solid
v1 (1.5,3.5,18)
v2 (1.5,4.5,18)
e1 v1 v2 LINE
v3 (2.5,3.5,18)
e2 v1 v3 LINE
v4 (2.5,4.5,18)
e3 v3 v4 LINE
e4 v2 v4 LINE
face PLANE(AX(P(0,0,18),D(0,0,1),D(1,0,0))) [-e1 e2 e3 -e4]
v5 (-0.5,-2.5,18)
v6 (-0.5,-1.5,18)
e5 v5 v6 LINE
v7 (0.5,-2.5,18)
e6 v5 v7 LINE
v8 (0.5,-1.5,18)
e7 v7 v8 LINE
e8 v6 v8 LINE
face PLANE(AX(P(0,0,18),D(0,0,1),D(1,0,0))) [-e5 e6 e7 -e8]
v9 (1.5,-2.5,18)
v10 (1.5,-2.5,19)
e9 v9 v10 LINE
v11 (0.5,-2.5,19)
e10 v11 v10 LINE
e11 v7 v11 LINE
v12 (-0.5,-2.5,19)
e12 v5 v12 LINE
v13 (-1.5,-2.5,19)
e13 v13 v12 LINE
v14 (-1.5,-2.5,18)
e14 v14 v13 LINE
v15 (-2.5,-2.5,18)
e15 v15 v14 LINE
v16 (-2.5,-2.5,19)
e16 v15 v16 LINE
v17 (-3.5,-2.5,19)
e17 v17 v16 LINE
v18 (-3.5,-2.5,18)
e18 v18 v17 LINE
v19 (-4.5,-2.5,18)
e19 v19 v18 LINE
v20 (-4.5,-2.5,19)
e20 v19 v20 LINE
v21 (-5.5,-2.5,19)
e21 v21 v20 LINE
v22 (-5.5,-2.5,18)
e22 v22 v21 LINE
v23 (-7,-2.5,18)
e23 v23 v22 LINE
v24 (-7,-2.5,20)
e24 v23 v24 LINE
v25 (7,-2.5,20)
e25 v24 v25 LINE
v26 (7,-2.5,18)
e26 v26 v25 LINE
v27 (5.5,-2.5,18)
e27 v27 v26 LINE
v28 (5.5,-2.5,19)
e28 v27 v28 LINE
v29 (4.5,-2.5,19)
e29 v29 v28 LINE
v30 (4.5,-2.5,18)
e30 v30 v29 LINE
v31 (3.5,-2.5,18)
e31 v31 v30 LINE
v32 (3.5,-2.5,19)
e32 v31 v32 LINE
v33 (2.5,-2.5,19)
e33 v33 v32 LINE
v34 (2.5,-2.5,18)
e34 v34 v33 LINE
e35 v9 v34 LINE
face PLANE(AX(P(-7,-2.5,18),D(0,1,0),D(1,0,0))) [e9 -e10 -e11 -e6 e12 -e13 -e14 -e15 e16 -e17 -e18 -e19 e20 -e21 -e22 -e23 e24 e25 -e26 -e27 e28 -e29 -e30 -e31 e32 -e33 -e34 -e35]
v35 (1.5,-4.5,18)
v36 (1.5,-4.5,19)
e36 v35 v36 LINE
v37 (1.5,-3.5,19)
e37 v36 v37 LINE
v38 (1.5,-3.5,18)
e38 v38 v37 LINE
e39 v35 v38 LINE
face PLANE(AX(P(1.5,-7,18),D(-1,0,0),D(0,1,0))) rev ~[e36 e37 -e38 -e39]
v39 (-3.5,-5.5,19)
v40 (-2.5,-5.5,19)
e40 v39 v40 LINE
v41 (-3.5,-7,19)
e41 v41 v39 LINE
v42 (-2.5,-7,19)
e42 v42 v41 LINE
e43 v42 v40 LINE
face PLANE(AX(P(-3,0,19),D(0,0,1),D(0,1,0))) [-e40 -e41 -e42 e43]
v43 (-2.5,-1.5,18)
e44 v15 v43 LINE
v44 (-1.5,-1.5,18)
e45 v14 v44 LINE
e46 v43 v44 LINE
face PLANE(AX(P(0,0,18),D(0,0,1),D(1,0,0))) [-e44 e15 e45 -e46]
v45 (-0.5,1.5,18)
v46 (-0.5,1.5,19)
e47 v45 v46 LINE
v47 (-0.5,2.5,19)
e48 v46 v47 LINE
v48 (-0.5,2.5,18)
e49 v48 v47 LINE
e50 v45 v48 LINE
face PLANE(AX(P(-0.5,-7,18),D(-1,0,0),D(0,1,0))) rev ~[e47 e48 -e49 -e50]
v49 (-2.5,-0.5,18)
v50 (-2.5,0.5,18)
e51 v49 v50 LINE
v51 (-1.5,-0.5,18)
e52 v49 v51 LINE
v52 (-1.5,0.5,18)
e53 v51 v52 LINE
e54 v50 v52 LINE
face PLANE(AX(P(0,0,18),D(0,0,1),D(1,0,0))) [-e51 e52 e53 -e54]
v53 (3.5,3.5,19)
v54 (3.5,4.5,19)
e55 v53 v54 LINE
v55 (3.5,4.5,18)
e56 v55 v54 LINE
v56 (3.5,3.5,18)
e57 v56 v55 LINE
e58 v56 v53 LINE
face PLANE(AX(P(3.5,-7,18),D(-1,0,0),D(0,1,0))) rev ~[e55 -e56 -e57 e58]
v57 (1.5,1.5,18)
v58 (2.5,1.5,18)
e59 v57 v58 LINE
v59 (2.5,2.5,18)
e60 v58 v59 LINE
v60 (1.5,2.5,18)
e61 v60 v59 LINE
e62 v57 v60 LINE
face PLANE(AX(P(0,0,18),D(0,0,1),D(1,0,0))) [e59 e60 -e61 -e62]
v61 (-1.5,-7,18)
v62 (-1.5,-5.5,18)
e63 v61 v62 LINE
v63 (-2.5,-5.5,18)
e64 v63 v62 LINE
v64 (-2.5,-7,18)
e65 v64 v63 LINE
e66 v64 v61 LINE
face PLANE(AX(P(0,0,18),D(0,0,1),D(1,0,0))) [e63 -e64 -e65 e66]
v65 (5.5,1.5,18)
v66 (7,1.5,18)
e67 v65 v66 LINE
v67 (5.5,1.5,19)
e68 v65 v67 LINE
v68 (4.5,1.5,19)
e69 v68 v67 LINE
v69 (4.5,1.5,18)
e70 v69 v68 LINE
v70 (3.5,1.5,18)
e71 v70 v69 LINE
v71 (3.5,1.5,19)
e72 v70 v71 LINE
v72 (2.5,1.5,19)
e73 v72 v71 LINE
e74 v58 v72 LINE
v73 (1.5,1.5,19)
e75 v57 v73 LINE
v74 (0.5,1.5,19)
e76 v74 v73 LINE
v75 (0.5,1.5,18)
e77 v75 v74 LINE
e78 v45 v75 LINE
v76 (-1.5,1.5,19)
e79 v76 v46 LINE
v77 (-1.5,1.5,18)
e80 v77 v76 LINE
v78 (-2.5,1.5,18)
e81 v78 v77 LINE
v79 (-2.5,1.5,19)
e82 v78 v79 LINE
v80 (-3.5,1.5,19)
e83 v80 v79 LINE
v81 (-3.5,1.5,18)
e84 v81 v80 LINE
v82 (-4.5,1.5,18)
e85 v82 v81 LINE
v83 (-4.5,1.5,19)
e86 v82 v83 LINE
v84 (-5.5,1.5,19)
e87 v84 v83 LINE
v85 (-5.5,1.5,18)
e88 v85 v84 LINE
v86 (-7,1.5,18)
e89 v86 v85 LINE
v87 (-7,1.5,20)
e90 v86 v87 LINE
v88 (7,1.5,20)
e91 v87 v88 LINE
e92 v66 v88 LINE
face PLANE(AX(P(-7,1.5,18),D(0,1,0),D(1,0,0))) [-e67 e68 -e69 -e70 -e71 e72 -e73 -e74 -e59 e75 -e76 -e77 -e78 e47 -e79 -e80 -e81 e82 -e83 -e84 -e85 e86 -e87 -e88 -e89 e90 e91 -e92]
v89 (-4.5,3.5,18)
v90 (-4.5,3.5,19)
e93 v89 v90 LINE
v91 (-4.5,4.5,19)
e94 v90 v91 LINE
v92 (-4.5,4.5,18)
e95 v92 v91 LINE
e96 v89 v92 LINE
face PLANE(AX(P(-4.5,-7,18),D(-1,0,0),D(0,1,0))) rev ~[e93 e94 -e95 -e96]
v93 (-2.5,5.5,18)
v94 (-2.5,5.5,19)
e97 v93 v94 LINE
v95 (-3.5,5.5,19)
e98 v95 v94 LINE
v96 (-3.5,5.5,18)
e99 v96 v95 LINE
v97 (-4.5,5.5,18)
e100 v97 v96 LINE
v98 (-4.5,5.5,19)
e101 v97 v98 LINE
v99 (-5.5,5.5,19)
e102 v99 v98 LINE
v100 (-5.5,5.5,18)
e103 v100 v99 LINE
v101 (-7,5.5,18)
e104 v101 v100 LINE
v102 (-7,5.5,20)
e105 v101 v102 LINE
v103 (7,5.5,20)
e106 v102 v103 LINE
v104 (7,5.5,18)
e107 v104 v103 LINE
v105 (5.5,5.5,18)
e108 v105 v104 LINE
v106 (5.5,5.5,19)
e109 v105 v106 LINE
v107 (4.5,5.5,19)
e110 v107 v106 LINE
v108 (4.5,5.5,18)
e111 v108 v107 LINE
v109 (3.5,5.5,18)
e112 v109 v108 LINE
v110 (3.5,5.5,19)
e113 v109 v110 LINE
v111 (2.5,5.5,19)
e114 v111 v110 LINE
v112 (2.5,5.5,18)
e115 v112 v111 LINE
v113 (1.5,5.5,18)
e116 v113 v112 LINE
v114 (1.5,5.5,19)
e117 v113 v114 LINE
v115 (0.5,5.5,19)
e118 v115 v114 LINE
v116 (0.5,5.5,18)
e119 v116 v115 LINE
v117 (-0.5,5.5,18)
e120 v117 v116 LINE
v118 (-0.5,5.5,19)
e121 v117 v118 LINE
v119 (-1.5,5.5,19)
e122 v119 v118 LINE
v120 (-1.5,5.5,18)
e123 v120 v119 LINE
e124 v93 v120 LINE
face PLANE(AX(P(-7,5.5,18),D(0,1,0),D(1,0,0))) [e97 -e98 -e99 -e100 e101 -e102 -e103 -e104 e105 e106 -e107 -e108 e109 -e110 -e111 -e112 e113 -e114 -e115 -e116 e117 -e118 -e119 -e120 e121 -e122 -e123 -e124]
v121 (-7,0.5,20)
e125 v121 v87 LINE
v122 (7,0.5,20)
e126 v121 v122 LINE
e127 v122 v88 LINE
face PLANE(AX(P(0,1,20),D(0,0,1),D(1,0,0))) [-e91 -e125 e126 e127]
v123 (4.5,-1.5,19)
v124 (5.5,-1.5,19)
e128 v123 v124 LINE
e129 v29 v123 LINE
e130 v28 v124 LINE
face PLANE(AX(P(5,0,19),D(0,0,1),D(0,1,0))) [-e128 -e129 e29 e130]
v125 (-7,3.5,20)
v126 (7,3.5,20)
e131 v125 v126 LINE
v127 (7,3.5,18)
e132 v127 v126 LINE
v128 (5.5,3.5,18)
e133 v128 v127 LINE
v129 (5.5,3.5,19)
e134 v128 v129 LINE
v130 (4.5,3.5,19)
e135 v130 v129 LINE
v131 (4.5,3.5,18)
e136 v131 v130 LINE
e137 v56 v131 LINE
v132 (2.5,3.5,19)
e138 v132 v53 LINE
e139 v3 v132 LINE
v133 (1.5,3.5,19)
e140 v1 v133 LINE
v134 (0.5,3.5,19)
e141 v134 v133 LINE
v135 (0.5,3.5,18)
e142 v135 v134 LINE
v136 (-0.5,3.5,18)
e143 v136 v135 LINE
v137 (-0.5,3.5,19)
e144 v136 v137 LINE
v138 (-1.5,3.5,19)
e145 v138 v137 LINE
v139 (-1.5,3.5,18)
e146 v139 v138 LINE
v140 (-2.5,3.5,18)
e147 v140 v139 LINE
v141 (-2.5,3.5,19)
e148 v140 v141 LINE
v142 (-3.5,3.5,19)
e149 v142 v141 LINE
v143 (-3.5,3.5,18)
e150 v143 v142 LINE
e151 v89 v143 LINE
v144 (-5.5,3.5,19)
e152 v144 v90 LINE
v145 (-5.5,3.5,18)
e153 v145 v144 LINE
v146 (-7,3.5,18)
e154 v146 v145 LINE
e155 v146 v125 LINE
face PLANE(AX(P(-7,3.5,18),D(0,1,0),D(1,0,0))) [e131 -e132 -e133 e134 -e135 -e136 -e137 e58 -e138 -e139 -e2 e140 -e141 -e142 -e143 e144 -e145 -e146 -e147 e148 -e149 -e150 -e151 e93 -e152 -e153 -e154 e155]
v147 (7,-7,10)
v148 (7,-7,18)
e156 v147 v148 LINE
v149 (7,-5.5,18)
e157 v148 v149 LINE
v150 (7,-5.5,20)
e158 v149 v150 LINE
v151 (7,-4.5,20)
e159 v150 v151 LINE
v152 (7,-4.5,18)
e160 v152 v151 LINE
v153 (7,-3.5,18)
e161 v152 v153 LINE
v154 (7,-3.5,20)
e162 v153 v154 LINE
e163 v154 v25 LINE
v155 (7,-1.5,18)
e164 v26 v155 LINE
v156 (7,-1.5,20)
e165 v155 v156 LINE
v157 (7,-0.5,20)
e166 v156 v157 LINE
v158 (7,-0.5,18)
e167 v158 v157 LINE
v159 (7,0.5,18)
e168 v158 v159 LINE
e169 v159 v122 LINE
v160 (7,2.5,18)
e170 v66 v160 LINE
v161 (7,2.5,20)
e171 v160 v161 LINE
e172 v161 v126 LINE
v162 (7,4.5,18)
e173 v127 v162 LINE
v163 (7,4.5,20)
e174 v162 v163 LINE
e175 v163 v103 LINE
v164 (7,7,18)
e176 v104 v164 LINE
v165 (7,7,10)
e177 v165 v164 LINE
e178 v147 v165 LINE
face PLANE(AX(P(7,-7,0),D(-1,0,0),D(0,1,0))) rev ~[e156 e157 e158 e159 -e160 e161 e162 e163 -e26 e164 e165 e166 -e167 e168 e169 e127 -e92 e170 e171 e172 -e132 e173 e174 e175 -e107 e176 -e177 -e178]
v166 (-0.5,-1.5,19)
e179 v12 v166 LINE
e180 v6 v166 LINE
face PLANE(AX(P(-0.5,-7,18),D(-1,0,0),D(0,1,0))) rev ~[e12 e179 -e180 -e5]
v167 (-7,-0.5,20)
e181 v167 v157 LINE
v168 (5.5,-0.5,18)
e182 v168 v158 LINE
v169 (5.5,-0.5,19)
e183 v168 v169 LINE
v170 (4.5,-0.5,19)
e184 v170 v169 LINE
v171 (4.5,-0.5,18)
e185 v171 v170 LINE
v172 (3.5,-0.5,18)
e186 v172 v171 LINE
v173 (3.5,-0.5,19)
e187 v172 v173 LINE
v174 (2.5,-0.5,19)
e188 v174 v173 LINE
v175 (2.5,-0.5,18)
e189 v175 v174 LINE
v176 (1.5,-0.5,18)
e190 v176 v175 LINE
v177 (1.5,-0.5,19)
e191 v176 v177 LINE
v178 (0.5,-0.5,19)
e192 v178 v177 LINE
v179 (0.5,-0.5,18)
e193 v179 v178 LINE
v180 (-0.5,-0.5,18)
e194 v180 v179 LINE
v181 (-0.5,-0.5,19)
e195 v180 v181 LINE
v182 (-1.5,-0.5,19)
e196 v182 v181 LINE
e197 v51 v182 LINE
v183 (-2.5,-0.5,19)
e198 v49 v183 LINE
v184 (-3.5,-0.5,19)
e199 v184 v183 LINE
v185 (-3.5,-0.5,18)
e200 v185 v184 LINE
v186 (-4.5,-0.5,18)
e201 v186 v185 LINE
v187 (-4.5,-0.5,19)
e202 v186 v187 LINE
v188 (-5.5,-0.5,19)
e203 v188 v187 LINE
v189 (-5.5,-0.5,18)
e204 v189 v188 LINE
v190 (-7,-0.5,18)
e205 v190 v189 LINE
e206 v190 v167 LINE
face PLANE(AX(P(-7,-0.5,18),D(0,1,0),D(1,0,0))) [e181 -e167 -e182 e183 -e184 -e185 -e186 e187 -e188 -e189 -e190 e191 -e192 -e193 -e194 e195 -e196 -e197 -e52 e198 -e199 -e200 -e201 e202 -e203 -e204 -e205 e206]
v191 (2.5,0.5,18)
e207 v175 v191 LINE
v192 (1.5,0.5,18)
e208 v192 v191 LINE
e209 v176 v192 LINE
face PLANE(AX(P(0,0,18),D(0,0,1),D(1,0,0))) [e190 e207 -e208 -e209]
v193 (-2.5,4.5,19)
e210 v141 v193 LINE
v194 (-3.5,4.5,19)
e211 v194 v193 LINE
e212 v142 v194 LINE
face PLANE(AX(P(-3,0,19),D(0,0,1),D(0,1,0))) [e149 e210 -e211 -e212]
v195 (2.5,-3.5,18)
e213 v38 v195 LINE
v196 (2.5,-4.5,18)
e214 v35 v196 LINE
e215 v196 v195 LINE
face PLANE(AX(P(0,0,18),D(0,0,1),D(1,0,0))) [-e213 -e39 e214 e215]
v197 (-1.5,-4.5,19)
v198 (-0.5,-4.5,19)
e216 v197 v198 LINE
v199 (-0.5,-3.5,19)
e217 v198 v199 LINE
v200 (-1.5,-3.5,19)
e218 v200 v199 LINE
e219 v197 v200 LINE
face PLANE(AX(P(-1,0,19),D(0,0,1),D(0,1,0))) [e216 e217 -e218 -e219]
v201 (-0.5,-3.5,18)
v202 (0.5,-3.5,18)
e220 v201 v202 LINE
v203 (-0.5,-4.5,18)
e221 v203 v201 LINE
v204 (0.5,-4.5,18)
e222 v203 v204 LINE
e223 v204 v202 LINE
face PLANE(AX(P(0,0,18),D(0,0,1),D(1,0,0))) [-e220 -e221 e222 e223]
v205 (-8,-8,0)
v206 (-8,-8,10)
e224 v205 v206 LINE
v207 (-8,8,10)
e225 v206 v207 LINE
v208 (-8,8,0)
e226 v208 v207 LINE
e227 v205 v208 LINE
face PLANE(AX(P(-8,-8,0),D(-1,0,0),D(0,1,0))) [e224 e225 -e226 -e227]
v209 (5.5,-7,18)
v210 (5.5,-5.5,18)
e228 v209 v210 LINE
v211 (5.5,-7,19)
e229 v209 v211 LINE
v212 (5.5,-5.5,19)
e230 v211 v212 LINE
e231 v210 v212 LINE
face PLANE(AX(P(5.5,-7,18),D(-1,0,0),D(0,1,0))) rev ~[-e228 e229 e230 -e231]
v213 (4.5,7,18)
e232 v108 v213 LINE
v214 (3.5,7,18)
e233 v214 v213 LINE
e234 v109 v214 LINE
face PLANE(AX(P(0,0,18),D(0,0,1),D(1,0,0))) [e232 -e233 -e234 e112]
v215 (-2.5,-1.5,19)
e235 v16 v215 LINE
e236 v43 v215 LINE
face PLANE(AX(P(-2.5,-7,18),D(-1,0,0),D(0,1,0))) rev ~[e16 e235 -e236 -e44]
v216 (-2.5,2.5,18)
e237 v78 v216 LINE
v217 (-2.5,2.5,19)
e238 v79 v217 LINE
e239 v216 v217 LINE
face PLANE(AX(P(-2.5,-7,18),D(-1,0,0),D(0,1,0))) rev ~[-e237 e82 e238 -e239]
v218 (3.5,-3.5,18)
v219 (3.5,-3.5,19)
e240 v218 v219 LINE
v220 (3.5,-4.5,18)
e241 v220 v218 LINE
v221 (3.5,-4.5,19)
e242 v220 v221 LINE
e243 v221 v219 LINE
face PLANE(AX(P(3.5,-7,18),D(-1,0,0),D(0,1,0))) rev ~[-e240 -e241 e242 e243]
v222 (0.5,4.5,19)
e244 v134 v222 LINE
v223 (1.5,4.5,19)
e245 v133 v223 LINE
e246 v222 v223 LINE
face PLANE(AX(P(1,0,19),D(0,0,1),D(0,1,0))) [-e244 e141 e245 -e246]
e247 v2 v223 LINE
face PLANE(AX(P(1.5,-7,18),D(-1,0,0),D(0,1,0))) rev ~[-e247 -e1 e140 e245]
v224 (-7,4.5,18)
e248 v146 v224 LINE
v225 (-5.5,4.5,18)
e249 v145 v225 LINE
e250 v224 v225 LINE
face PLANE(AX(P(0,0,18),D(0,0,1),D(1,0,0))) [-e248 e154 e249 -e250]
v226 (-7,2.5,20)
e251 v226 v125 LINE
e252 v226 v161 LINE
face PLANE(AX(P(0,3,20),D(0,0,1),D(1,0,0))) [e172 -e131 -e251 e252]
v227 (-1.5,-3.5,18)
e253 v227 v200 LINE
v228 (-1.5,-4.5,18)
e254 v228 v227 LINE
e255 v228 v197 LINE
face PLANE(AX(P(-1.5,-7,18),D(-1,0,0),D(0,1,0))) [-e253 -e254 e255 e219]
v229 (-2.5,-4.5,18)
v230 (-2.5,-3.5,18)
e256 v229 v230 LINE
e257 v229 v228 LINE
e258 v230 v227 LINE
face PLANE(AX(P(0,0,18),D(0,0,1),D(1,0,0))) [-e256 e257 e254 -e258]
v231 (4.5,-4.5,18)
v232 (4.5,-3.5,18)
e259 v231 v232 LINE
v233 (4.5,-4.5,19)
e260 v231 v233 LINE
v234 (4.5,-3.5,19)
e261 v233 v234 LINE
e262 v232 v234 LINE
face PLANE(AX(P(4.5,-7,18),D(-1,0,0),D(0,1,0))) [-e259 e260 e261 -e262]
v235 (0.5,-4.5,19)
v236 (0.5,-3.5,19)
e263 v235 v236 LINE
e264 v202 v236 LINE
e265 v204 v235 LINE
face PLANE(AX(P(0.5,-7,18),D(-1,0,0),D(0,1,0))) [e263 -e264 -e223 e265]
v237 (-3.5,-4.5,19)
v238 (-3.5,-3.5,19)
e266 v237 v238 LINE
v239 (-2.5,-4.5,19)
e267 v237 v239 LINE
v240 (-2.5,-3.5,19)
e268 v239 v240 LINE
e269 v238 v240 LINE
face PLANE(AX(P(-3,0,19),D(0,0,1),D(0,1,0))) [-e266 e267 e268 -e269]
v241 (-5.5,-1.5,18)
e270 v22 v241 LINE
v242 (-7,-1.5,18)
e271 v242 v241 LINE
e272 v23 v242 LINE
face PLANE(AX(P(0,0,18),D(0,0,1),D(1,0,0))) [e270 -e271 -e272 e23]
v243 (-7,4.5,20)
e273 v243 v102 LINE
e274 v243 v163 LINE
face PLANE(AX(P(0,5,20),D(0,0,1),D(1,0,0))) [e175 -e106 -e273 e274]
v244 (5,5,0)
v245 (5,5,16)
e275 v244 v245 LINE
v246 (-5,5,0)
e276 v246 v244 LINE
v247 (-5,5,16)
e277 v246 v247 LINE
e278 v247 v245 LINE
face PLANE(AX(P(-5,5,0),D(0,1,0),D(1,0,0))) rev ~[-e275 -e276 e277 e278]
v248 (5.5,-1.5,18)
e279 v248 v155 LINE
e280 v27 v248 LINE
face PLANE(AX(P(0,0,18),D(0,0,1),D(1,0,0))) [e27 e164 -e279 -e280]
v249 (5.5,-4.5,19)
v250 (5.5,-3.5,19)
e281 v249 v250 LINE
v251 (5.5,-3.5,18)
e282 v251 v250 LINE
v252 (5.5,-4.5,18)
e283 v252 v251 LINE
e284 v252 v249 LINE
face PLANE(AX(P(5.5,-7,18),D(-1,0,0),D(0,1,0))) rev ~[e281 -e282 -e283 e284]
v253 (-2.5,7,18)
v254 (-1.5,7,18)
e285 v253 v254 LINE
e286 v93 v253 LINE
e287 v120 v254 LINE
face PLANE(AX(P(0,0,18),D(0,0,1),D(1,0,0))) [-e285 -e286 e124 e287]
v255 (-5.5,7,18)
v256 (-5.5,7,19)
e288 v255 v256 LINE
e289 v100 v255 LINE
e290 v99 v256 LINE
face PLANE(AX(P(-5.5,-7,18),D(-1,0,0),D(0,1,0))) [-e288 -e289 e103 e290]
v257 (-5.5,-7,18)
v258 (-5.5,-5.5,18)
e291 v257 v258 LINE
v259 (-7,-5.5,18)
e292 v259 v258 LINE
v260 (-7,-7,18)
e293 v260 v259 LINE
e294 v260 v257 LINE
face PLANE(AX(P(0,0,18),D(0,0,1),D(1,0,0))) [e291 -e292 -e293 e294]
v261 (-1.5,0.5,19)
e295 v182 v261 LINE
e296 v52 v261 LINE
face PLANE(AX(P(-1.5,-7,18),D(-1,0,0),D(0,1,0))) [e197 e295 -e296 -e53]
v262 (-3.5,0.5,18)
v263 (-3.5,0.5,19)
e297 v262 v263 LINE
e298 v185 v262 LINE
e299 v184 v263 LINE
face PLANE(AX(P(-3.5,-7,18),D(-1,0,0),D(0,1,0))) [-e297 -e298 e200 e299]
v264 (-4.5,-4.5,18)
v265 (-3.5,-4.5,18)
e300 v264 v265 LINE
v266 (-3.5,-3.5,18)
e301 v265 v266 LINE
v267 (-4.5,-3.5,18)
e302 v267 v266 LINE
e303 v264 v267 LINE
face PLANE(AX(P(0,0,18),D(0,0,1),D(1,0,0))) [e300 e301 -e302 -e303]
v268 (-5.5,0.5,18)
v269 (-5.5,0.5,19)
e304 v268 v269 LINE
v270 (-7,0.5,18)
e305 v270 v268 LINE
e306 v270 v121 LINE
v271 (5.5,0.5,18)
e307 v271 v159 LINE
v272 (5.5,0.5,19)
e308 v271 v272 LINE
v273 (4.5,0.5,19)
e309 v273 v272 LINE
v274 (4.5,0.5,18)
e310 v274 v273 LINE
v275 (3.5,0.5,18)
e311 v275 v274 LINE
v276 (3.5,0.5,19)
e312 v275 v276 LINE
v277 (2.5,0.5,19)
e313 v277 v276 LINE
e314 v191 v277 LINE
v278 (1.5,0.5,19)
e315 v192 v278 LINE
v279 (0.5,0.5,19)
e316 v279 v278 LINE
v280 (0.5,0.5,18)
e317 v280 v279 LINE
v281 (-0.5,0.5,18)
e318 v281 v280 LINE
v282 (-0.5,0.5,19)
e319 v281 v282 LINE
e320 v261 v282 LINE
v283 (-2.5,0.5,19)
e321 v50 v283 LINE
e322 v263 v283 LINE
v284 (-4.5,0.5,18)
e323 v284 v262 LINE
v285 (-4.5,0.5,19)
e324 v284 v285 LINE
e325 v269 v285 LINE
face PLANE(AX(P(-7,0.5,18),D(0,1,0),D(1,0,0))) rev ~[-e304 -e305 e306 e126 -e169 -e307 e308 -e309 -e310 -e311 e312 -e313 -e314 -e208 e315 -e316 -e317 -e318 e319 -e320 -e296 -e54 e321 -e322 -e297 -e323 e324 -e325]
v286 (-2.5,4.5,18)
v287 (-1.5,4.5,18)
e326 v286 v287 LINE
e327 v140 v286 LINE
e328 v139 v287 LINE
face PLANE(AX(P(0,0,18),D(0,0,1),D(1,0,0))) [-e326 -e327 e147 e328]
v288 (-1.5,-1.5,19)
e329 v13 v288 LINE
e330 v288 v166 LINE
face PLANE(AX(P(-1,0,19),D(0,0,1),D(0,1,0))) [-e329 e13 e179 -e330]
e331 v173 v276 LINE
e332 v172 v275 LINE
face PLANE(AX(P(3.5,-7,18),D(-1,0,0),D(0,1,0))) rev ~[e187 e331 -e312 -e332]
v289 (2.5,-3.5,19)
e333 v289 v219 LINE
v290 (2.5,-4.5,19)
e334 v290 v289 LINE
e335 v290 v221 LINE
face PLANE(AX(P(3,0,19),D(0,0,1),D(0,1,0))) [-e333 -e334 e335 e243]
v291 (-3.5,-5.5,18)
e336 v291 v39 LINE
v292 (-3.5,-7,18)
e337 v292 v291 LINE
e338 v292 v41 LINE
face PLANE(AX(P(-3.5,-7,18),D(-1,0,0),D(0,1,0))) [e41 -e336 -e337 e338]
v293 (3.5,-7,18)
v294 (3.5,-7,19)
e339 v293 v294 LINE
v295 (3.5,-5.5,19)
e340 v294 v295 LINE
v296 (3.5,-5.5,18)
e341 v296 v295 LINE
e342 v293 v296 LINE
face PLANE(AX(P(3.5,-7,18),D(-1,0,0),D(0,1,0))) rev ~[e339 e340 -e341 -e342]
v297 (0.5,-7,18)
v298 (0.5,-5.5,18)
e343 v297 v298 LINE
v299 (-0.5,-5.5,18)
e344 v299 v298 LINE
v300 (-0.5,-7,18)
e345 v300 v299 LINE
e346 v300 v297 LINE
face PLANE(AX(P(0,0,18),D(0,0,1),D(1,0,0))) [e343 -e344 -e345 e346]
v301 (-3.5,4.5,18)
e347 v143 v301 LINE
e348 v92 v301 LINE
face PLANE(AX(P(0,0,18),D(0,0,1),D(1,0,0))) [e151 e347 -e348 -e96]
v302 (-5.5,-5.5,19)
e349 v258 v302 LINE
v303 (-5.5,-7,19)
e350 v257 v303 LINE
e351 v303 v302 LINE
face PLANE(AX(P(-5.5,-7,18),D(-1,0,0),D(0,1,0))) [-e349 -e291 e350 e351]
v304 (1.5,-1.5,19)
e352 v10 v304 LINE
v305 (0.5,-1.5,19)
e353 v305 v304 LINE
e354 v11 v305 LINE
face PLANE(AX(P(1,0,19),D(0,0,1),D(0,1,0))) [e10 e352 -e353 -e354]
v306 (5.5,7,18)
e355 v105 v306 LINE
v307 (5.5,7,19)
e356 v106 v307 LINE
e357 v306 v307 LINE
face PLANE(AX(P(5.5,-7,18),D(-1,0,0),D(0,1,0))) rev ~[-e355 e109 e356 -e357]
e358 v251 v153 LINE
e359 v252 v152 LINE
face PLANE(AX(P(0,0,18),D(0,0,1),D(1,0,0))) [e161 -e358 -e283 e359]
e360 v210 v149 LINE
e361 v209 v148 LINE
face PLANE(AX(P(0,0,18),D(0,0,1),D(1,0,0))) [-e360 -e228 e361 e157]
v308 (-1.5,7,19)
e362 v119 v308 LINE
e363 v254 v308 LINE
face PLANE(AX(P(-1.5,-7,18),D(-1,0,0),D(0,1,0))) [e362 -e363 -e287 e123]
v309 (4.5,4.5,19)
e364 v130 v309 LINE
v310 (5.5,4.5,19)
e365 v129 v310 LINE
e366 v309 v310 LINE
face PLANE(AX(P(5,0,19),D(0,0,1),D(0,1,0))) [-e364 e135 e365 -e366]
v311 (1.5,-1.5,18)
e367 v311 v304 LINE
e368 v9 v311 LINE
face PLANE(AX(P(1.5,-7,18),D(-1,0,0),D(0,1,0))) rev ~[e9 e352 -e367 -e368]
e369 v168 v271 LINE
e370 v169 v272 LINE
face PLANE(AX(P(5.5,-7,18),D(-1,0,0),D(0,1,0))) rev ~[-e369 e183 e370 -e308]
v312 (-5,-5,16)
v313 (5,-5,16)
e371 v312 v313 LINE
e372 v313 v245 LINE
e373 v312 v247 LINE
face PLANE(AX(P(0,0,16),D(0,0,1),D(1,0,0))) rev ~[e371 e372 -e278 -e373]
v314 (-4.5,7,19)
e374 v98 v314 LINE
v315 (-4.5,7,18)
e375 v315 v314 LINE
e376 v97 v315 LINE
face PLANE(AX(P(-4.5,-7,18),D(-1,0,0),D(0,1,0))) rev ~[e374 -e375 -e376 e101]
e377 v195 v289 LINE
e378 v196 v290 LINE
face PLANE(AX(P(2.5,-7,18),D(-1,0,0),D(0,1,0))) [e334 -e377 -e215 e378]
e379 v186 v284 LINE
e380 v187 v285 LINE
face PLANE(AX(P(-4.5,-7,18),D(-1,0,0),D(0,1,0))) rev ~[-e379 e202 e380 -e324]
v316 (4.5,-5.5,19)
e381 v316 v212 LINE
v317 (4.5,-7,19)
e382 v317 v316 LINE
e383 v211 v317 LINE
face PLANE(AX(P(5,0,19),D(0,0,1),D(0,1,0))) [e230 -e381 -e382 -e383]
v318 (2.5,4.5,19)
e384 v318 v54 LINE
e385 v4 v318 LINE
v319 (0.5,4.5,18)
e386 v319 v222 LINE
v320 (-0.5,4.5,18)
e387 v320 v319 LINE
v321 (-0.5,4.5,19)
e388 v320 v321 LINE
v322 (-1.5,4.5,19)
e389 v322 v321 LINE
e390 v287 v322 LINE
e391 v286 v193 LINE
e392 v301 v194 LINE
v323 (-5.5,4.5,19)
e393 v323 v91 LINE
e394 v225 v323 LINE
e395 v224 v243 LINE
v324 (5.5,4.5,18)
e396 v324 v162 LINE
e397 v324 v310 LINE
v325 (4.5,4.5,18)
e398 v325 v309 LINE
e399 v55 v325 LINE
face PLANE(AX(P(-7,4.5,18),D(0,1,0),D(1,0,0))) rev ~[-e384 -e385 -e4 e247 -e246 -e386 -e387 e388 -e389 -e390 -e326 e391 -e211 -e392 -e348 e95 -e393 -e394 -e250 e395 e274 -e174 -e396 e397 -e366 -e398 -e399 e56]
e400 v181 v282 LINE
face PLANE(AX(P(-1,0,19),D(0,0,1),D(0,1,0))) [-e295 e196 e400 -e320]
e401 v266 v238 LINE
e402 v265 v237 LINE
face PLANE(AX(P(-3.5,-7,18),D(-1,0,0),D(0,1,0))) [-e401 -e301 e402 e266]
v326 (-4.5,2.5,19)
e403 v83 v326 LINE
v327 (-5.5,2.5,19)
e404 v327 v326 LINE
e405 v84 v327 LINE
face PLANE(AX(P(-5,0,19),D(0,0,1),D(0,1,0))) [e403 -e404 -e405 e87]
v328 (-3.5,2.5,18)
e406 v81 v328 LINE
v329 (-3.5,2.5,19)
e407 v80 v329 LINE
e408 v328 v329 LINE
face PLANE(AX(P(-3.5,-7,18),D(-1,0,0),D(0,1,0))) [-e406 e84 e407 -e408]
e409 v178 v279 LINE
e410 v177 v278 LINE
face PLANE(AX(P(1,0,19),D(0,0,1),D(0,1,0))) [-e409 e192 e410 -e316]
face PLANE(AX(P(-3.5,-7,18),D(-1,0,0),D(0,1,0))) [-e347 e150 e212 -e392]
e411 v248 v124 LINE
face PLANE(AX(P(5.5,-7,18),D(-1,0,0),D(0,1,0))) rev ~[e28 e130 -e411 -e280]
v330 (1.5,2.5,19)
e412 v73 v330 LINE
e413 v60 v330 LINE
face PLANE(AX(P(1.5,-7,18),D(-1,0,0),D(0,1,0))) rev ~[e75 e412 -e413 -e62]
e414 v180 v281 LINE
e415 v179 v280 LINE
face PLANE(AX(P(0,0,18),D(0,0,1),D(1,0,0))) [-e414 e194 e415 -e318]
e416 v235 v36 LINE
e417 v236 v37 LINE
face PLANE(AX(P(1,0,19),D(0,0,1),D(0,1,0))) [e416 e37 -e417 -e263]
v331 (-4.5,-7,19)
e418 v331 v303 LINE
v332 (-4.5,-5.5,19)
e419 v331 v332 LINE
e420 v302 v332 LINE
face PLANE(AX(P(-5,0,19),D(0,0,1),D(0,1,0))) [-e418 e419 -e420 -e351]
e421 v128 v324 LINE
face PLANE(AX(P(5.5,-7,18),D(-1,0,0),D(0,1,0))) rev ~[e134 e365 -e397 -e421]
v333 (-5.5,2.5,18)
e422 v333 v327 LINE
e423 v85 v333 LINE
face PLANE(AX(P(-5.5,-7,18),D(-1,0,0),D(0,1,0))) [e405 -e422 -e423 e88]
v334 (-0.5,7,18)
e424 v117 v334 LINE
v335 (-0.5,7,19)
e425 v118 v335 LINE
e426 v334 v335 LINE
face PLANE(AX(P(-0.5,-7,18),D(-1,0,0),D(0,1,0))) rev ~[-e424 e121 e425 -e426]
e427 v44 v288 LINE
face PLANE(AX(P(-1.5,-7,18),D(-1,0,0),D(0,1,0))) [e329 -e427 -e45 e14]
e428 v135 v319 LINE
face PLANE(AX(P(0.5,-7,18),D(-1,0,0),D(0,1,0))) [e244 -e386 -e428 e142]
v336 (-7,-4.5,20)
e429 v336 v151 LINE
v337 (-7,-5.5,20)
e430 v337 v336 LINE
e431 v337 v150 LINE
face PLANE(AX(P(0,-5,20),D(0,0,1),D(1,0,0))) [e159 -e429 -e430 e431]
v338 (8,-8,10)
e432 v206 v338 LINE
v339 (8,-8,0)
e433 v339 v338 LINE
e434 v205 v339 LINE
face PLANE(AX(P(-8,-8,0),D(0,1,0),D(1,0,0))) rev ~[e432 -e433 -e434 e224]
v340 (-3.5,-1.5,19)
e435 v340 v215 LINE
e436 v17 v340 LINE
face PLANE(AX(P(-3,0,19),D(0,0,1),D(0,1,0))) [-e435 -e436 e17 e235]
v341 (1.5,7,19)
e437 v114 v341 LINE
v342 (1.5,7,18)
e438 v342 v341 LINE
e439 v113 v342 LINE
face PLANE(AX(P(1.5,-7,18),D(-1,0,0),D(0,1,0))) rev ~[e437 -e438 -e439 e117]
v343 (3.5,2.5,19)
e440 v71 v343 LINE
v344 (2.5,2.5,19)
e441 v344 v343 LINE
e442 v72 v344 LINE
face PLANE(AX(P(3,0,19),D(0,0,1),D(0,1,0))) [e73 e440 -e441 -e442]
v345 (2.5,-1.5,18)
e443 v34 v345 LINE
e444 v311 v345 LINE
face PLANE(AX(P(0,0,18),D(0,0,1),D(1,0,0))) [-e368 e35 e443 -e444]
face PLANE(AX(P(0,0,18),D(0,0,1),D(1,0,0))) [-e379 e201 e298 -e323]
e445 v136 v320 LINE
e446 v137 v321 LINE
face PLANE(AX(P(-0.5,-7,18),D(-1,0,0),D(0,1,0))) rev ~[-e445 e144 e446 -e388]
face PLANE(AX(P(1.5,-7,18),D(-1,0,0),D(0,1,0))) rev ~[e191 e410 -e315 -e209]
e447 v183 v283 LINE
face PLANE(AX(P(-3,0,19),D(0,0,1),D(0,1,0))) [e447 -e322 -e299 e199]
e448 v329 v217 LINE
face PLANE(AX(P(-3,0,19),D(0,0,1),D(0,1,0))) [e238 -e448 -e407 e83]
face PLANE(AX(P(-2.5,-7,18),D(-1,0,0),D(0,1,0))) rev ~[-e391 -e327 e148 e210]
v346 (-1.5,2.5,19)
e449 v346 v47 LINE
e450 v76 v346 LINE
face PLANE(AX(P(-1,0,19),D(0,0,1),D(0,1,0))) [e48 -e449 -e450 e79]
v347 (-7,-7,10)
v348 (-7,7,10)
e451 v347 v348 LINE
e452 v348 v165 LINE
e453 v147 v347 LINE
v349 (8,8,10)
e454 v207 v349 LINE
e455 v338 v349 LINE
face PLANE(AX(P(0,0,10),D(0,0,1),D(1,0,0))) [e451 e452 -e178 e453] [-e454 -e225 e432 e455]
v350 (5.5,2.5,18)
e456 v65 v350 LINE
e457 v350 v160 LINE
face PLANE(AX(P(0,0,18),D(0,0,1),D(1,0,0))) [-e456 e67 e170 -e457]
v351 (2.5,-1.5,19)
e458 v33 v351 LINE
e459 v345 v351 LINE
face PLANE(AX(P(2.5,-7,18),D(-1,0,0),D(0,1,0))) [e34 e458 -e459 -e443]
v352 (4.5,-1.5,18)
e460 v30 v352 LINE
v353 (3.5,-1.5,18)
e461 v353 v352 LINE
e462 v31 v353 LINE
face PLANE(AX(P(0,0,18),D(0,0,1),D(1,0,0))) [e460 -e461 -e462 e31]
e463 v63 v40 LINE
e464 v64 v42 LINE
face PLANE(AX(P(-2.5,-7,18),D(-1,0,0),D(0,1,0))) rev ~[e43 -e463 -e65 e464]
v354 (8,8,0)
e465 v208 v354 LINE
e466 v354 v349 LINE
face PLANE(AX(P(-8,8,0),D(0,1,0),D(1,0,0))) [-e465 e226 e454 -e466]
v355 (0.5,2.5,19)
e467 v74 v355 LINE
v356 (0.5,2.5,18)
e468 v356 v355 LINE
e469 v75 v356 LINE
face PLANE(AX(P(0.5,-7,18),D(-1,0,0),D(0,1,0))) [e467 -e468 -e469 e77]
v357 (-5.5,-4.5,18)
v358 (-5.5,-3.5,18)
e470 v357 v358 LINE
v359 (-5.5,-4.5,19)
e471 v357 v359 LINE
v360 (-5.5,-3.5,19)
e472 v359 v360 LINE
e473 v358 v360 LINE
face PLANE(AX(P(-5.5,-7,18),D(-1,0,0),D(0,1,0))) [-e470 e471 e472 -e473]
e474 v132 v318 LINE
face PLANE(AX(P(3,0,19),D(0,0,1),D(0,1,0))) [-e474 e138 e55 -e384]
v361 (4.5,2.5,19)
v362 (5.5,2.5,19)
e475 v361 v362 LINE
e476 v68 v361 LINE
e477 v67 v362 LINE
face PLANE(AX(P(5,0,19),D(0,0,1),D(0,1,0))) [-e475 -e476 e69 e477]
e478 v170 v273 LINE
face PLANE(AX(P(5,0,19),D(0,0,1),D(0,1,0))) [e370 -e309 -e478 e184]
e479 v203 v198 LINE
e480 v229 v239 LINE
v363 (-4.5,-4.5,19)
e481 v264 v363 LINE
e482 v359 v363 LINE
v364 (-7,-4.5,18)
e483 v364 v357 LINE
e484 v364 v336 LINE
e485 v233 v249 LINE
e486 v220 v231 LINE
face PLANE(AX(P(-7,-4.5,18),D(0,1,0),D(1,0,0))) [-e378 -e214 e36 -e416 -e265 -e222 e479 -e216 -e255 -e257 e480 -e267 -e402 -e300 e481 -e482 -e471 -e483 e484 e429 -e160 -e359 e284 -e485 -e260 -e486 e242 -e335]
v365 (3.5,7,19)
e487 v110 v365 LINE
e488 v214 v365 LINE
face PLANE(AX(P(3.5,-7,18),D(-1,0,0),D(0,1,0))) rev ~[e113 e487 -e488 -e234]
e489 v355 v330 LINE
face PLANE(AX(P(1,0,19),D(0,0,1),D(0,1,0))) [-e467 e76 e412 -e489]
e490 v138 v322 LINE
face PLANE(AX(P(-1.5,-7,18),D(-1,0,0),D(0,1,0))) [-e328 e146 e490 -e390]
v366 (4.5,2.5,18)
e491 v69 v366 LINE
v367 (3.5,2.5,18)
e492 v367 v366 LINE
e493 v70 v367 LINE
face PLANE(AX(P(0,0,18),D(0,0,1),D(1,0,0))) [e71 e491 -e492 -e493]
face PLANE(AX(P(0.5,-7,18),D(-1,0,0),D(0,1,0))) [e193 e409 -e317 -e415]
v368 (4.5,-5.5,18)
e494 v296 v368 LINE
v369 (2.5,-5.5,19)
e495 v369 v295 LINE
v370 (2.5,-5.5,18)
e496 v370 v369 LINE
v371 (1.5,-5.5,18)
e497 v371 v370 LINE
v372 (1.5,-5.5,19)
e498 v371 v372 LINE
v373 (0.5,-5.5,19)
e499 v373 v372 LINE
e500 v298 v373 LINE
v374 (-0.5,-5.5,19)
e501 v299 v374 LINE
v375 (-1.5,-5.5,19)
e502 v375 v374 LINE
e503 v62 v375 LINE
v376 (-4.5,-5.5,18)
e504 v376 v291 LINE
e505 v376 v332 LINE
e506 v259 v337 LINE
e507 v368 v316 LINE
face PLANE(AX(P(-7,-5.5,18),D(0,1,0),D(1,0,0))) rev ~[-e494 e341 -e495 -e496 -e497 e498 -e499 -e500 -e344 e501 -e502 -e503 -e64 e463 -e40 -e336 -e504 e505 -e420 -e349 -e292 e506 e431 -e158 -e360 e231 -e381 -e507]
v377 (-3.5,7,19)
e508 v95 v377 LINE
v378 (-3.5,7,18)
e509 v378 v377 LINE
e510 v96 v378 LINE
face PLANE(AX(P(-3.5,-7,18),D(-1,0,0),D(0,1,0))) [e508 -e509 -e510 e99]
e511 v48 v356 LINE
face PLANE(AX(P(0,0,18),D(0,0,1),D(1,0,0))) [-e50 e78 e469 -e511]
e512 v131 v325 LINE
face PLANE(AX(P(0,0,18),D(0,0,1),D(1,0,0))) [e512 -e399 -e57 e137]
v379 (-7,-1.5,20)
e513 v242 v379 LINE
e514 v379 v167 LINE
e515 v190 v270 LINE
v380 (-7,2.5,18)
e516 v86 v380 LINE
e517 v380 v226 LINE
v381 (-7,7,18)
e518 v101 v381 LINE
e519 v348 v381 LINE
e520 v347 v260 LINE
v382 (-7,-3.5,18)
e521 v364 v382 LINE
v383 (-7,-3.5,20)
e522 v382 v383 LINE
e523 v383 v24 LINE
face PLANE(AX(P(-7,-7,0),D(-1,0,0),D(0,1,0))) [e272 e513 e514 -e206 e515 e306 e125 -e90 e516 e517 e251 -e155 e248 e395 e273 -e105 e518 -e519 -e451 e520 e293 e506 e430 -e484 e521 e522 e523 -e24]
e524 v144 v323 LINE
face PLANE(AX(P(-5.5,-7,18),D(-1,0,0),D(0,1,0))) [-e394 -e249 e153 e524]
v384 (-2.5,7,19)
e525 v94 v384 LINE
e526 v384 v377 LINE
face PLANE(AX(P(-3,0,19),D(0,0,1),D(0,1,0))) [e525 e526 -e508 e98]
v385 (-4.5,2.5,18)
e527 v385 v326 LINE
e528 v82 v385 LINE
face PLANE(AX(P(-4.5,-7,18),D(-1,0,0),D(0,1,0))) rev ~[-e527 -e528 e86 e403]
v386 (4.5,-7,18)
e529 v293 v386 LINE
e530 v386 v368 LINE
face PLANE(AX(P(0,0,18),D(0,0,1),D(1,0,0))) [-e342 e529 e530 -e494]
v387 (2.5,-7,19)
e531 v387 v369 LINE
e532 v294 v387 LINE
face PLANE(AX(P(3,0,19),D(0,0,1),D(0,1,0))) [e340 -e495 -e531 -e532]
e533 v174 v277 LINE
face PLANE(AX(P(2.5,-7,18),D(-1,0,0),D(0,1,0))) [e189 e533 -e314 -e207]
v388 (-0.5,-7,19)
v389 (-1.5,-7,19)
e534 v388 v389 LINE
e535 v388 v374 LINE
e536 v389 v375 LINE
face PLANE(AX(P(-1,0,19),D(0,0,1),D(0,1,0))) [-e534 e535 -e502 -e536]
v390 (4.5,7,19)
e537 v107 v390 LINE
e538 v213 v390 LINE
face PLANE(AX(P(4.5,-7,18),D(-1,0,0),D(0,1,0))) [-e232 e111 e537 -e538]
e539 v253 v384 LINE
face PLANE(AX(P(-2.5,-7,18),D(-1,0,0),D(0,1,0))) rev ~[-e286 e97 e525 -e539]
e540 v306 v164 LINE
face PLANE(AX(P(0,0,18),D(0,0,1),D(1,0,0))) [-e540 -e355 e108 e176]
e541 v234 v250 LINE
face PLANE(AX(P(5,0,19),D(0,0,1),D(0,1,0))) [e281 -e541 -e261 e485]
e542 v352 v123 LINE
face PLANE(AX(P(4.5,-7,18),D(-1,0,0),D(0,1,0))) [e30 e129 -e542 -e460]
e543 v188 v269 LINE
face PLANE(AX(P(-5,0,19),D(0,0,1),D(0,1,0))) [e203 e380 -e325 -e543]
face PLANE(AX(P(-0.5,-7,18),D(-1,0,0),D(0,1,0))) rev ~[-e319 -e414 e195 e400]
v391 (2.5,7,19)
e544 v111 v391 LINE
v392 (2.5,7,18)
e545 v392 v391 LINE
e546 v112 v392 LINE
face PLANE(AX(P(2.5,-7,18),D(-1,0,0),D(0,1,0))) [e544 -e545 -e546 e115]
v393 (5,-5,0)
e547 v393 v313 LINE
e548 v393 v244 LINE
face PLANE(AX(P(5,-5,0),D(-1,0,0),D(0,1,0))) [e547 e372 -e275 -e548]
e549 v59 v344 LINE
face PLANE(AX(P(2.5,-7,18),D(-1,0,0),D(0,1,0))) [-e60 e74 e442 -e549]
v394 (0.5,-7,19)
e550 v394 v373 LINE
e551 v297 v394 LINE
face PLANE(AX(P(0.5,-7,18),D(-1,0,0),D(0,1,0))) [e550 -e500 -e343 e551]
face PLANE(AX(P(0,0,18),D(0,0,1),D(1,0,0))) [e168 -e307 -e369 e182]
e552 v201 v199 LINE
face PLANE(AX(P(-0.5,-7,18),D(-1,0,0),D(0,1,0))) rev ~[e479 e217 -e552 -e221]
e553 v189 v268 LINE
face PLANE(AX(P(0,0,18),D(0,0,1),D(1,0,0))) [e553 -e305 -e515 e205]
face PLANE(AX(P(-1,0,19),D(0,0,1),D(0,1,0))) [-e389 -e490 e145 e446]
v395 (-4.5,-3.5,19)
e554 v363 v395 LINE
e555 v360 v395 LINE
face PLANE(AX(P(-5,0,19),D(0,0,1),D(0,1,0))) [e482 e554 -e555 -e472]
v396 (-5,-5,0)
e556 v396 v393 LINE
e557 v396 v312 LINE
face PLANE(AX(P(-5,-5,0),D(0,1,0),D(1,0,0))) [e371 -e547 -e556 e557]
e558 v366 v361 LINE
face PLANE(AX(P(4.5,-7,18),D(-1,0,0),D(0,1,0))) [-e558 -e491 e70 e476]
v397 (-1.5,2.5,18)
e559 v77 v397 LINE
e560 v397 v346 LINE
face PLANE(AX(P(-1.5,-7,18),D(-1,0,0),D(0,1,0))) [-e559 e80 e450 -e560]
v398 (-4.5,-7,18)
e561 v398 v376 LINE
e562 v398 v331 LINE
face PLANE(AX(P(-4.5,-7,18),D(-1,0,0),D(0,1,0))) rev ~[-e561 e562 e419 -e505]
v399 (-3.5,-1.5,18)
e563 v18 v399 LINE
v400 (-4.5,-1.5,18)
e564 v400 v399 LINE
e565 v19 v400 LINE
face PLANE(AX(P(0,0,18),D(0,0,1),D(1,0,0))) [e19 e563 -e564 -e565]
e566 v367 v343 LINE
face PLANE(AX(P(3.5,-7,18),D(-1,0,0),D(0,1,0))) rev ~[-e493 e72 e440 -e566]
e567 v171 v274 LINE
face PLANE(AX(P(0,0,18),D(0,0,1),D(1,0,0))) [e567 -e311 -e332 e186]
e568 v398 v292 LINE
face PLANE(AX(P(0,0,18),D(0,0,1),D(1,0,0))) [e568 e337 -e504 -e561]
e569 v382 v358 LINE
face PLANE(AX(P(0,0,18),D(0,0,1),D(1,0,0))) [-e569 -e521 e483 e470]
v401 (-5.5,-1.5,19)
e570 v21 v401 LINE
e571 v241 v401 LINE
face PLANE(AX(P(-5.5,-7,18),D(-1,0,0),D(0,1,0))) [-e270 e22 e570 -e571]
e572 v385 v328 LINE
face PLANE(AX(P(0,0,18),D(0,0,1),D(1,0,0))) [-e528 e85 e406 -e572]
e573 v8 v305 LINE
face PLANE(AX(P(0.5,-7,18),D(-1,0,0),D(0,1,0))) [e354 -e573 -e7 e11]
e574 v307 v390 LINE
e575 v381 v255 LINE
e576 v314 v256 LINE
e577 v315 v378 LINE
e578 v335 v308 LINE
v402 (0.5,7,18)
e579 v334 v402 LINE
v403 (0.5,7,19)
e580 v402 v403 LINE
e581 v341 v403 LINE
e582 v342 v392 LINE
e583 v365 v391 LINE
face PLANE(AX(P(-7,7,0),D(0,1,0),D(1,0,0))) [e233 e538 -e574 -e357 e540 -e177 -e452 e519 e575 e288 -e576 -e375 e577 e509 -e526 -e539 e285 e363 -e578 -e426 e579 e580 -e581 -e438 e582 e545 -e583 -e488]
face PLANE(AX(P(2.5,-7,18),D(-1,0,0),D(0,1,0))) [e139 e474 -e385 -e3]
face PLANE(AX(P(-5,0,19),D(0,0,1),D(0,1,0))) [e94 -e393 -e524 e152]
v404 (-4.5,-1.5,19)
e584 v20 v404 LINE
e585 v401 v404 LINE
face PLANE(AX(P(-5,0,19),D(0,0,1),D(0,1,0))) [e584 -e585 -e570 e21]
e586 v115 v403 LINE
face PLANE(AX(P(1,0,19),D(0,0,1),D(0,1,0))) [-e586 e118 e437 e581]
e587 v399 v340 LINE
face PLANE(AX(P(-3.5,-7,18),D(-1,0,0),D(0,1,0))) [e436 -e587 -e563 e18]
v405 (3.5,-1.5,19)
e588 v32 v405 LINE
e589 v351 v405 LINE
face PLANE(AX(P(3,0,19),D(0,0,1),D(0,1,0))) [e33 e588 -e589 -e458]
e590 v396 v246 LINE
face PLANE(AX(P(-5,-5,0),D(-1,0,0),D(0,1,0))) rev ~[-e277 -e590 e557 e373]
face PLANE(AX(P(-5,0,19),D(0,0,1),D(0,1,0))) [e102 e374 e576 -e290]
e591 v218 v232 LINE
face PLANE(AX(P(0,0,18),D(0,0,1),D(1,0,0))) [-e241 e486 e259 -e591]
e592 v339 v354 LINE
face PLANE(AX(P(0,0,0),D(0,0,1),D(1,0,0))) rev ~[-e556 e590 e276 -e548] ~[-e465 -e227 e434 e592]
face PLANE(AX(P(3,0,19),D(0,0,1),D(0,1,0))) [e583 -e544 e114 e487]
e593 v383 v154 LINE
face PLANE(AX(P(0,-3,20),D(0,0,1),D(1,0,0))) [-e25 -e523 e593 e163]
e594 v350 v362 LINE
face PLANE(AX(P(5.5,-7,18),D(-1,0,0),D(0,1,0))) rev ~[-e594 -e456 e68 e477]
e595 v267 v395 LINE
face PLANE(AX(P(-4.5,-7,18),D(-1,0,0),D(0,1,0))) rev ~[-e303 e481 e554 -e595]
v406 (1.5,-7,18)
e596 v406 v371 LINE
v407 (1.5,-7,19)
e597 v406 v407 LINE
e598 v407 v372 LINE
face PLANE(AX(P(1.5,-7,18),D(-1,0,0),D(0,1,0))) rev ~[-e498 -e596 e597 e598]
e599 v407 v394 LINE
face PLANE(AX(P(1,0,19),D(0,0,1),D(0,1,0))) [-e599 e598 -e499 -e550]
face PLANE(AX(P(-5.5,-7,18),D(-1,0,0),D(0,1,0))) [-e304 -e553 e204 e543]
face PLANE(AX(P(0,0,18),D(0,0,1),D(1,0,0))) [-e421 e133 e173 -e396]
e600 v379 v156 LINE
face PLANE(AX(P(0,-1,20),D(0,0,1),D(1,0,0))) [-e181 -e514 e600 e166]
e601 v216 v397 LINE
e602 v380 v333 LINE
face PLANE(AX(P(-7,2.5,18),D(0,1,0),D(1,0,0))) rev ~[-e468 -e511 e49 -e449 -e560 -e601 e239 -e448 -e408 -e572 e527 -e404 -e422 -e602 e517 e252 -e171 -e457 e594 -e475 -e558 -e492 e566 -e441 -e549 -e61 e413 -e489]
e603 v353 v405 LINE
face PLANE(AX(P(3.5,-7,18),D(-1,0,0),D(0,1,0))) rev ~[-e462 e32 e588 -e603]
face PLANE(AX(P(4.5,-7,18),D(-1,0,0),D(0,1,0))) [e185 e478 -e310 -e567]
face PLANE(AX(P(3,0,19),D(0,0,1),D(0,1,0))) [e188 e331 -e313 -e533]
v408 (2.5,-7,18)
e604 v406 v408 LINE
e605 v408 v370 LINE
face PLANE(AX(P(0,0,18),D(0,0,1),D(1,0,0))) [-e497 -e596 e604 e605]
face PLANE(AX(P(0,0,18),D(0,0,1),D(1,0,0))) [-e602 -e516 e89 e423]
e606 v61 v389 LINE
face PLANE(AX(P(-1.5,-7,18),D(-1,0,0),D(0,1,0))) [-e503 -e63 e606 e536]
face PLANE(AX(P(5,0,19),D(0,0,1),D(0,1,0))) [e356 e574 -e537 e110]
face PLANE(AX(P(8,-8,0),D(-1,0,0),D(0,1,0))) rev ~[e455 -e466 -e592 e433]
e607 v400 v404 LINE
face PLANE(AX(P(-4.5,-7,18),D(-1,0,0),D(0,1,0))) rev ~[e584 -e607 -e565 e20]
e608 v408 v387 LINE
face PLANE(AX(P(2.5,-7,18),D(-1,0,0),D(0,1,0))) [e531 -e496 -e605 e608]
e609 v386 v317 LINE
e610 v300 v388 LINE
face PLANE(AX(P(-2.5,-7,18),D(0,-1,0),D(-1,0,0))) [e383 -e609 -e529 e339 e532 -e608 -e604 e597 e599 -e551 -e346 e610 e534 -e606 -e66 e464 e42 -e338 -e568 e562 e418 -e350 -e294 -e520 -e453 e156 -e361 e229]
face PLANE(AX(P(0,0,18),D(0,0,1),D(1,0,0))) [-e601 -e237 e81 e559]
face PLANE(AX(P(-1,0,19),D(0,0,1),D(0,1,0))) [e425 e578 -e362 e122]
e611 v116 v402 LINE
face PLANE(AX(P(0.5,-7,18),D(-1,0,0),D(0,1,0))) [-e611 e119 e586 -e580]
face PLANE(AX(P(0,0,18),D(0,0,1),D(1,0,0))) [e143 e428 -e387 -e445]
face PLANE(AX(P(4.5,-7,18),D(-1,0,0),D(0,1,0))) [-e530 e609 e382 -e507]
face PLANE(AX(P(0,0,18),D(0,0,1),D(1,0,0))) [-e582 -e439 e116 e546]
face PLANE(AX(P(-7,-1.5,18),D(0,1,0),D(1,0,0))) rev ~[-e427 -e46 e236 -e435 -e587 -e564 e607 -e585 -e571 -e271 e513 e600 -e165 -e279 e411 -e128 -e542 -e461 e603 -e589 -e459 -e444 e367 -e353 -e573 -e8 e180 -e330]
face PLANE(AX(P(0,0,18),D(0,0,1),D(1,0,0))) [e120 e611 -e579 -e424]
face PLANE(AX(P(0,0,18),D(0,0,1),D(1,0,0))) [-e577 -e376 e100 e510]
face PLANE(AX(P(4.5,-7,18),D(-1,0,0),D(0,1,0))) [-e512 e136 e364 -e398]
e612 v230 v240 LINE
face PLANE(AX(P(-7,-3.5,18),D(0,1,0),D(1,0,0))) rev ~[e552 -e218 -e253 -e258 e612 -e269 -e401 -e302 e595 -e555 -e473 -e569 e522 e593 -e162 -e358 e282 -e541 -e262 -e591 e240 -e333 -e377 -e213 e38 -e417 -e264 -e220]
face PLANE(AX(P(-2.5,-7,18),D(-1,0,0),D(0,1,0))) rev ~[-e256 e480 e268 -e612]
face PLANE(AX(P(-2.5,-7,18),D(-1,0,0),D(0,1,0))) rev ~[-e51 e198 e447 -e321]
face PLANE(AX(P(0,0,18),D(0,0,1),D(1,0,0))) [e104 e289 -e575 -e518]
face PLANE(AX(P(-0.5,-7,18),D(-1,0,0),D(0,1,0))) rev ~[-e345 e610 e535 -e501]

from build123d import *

# Parameters (mm, degrees)
BOX003_W     = 10
BOX003_H     = 10
BOX003_DEPTH = 16
BOX_W        = 16
BOX_H        = 16
BOX_DEPTH    = 10
BOX002_W     = 14
BOX002_H     = 14
BOX002_DEPTH = 18
SKETCH_W     = 14
SKETCH_H     = 1
PAD_DEPTH    = 2
SKETCH001_W  = 14
SKETCH001_H  = 1
PAD001_DEPTH = 1


with BuildPart() as cube001:
    # Box003 → Box003 (new body)
    with BuildSketch(Plane(origin=(-5, -5, 0), x_dir=(1, 0, 0), z_dir=(0, 0, 1))):
        with Locations((5, 5)):
            Rectangle(BOX003_W, BOX003_H)
    extrude(amount=BOX003_DEPTH)


with BuildPart() as cube:
    # Box → Box (new body)
    with BuildSketch(Plane(origin=(-8, -8, 0), x_dir=(1, 0, 0), z_dir=(0, 0, 1))):
        with Locations((8, 8)):
            Rectangle(BOX_W, BOX_H)
    extrude(amount=BOX_DEPTH)


with BuildPart() as cut:
    # Box002 → Box002 (join)
    with BuildSketch(Plane(origin=(-7, -7, 0), x_dir=(1, 0, 0), z_dir=(0, 0, 1))):
        with Locations((7, 7)):
            Rectangle(BOX002_W, BOX002_H)
    extrude(amount=BOX002_DEPTH)

    # Sketch (on Face6 of Box002) → Pad (join)
    with BuildSketch(Plane(origin=(-7, -7, 18), x_dir=(1, 0, 0), z_dir=(0, 0, 1))):
        with Locations((7, 10)):
            Rectangle(SKETCH_W, SKETCH_H)
        with Locations((7, 8)):
            Rectangle(SKETCH_W, SKETCH_H)
        with Locations((7, 6)):
            Rectangle(SKETCH_W, SKETCH_H)
        with Locations((7, 4)):
            Rectangle(SKETCH_W, SKETCH_H)
        with Locations((7, 2)):
            Rectangle(SKETCH_W, SKETCH_H)
        with Locations((7, 12)):
            Rectangle(SKETCH_W, SKETCH_H)
    extrude(amount=PAD_DEPTH)

    # Sketch001 (on Face6 of Box002) → Pad001 (join)
    with BuildSketch(Plane(origin=(7, -7, 18), x_dir=(0, 1, 0), z_dir=(0, 0, 1))):
        with Locations((7, 10)):
            Rectangle(SKETCH001_W, SKETCH001_H)
        with Locations((7, 8)):
            Rectangle(SKETCH001_W, SKETCH001_H)
        with Locations((7, 6)):
            Rectangle(SKETCH001_W, SKETCH001_H)
        with Locations((7, 4)):
            Rectangle(SKETCH001_W, SKETCH001_H)
        with Locations((7, 2)):
            Rectangle(SKETCH001_W, SKETCH001_H)
        with Locations((7, 12)):
            Rectangle(SKETCH001_W, SKETCH001_H)
    extrude(amount=PAD001_DEPTH)

    # Fusion: union Cube
    add(cube.part)

    # Cut: cut Cube001
    add(cube001.part, mode=Mode.SUBTRACT)


solid = cut.part
